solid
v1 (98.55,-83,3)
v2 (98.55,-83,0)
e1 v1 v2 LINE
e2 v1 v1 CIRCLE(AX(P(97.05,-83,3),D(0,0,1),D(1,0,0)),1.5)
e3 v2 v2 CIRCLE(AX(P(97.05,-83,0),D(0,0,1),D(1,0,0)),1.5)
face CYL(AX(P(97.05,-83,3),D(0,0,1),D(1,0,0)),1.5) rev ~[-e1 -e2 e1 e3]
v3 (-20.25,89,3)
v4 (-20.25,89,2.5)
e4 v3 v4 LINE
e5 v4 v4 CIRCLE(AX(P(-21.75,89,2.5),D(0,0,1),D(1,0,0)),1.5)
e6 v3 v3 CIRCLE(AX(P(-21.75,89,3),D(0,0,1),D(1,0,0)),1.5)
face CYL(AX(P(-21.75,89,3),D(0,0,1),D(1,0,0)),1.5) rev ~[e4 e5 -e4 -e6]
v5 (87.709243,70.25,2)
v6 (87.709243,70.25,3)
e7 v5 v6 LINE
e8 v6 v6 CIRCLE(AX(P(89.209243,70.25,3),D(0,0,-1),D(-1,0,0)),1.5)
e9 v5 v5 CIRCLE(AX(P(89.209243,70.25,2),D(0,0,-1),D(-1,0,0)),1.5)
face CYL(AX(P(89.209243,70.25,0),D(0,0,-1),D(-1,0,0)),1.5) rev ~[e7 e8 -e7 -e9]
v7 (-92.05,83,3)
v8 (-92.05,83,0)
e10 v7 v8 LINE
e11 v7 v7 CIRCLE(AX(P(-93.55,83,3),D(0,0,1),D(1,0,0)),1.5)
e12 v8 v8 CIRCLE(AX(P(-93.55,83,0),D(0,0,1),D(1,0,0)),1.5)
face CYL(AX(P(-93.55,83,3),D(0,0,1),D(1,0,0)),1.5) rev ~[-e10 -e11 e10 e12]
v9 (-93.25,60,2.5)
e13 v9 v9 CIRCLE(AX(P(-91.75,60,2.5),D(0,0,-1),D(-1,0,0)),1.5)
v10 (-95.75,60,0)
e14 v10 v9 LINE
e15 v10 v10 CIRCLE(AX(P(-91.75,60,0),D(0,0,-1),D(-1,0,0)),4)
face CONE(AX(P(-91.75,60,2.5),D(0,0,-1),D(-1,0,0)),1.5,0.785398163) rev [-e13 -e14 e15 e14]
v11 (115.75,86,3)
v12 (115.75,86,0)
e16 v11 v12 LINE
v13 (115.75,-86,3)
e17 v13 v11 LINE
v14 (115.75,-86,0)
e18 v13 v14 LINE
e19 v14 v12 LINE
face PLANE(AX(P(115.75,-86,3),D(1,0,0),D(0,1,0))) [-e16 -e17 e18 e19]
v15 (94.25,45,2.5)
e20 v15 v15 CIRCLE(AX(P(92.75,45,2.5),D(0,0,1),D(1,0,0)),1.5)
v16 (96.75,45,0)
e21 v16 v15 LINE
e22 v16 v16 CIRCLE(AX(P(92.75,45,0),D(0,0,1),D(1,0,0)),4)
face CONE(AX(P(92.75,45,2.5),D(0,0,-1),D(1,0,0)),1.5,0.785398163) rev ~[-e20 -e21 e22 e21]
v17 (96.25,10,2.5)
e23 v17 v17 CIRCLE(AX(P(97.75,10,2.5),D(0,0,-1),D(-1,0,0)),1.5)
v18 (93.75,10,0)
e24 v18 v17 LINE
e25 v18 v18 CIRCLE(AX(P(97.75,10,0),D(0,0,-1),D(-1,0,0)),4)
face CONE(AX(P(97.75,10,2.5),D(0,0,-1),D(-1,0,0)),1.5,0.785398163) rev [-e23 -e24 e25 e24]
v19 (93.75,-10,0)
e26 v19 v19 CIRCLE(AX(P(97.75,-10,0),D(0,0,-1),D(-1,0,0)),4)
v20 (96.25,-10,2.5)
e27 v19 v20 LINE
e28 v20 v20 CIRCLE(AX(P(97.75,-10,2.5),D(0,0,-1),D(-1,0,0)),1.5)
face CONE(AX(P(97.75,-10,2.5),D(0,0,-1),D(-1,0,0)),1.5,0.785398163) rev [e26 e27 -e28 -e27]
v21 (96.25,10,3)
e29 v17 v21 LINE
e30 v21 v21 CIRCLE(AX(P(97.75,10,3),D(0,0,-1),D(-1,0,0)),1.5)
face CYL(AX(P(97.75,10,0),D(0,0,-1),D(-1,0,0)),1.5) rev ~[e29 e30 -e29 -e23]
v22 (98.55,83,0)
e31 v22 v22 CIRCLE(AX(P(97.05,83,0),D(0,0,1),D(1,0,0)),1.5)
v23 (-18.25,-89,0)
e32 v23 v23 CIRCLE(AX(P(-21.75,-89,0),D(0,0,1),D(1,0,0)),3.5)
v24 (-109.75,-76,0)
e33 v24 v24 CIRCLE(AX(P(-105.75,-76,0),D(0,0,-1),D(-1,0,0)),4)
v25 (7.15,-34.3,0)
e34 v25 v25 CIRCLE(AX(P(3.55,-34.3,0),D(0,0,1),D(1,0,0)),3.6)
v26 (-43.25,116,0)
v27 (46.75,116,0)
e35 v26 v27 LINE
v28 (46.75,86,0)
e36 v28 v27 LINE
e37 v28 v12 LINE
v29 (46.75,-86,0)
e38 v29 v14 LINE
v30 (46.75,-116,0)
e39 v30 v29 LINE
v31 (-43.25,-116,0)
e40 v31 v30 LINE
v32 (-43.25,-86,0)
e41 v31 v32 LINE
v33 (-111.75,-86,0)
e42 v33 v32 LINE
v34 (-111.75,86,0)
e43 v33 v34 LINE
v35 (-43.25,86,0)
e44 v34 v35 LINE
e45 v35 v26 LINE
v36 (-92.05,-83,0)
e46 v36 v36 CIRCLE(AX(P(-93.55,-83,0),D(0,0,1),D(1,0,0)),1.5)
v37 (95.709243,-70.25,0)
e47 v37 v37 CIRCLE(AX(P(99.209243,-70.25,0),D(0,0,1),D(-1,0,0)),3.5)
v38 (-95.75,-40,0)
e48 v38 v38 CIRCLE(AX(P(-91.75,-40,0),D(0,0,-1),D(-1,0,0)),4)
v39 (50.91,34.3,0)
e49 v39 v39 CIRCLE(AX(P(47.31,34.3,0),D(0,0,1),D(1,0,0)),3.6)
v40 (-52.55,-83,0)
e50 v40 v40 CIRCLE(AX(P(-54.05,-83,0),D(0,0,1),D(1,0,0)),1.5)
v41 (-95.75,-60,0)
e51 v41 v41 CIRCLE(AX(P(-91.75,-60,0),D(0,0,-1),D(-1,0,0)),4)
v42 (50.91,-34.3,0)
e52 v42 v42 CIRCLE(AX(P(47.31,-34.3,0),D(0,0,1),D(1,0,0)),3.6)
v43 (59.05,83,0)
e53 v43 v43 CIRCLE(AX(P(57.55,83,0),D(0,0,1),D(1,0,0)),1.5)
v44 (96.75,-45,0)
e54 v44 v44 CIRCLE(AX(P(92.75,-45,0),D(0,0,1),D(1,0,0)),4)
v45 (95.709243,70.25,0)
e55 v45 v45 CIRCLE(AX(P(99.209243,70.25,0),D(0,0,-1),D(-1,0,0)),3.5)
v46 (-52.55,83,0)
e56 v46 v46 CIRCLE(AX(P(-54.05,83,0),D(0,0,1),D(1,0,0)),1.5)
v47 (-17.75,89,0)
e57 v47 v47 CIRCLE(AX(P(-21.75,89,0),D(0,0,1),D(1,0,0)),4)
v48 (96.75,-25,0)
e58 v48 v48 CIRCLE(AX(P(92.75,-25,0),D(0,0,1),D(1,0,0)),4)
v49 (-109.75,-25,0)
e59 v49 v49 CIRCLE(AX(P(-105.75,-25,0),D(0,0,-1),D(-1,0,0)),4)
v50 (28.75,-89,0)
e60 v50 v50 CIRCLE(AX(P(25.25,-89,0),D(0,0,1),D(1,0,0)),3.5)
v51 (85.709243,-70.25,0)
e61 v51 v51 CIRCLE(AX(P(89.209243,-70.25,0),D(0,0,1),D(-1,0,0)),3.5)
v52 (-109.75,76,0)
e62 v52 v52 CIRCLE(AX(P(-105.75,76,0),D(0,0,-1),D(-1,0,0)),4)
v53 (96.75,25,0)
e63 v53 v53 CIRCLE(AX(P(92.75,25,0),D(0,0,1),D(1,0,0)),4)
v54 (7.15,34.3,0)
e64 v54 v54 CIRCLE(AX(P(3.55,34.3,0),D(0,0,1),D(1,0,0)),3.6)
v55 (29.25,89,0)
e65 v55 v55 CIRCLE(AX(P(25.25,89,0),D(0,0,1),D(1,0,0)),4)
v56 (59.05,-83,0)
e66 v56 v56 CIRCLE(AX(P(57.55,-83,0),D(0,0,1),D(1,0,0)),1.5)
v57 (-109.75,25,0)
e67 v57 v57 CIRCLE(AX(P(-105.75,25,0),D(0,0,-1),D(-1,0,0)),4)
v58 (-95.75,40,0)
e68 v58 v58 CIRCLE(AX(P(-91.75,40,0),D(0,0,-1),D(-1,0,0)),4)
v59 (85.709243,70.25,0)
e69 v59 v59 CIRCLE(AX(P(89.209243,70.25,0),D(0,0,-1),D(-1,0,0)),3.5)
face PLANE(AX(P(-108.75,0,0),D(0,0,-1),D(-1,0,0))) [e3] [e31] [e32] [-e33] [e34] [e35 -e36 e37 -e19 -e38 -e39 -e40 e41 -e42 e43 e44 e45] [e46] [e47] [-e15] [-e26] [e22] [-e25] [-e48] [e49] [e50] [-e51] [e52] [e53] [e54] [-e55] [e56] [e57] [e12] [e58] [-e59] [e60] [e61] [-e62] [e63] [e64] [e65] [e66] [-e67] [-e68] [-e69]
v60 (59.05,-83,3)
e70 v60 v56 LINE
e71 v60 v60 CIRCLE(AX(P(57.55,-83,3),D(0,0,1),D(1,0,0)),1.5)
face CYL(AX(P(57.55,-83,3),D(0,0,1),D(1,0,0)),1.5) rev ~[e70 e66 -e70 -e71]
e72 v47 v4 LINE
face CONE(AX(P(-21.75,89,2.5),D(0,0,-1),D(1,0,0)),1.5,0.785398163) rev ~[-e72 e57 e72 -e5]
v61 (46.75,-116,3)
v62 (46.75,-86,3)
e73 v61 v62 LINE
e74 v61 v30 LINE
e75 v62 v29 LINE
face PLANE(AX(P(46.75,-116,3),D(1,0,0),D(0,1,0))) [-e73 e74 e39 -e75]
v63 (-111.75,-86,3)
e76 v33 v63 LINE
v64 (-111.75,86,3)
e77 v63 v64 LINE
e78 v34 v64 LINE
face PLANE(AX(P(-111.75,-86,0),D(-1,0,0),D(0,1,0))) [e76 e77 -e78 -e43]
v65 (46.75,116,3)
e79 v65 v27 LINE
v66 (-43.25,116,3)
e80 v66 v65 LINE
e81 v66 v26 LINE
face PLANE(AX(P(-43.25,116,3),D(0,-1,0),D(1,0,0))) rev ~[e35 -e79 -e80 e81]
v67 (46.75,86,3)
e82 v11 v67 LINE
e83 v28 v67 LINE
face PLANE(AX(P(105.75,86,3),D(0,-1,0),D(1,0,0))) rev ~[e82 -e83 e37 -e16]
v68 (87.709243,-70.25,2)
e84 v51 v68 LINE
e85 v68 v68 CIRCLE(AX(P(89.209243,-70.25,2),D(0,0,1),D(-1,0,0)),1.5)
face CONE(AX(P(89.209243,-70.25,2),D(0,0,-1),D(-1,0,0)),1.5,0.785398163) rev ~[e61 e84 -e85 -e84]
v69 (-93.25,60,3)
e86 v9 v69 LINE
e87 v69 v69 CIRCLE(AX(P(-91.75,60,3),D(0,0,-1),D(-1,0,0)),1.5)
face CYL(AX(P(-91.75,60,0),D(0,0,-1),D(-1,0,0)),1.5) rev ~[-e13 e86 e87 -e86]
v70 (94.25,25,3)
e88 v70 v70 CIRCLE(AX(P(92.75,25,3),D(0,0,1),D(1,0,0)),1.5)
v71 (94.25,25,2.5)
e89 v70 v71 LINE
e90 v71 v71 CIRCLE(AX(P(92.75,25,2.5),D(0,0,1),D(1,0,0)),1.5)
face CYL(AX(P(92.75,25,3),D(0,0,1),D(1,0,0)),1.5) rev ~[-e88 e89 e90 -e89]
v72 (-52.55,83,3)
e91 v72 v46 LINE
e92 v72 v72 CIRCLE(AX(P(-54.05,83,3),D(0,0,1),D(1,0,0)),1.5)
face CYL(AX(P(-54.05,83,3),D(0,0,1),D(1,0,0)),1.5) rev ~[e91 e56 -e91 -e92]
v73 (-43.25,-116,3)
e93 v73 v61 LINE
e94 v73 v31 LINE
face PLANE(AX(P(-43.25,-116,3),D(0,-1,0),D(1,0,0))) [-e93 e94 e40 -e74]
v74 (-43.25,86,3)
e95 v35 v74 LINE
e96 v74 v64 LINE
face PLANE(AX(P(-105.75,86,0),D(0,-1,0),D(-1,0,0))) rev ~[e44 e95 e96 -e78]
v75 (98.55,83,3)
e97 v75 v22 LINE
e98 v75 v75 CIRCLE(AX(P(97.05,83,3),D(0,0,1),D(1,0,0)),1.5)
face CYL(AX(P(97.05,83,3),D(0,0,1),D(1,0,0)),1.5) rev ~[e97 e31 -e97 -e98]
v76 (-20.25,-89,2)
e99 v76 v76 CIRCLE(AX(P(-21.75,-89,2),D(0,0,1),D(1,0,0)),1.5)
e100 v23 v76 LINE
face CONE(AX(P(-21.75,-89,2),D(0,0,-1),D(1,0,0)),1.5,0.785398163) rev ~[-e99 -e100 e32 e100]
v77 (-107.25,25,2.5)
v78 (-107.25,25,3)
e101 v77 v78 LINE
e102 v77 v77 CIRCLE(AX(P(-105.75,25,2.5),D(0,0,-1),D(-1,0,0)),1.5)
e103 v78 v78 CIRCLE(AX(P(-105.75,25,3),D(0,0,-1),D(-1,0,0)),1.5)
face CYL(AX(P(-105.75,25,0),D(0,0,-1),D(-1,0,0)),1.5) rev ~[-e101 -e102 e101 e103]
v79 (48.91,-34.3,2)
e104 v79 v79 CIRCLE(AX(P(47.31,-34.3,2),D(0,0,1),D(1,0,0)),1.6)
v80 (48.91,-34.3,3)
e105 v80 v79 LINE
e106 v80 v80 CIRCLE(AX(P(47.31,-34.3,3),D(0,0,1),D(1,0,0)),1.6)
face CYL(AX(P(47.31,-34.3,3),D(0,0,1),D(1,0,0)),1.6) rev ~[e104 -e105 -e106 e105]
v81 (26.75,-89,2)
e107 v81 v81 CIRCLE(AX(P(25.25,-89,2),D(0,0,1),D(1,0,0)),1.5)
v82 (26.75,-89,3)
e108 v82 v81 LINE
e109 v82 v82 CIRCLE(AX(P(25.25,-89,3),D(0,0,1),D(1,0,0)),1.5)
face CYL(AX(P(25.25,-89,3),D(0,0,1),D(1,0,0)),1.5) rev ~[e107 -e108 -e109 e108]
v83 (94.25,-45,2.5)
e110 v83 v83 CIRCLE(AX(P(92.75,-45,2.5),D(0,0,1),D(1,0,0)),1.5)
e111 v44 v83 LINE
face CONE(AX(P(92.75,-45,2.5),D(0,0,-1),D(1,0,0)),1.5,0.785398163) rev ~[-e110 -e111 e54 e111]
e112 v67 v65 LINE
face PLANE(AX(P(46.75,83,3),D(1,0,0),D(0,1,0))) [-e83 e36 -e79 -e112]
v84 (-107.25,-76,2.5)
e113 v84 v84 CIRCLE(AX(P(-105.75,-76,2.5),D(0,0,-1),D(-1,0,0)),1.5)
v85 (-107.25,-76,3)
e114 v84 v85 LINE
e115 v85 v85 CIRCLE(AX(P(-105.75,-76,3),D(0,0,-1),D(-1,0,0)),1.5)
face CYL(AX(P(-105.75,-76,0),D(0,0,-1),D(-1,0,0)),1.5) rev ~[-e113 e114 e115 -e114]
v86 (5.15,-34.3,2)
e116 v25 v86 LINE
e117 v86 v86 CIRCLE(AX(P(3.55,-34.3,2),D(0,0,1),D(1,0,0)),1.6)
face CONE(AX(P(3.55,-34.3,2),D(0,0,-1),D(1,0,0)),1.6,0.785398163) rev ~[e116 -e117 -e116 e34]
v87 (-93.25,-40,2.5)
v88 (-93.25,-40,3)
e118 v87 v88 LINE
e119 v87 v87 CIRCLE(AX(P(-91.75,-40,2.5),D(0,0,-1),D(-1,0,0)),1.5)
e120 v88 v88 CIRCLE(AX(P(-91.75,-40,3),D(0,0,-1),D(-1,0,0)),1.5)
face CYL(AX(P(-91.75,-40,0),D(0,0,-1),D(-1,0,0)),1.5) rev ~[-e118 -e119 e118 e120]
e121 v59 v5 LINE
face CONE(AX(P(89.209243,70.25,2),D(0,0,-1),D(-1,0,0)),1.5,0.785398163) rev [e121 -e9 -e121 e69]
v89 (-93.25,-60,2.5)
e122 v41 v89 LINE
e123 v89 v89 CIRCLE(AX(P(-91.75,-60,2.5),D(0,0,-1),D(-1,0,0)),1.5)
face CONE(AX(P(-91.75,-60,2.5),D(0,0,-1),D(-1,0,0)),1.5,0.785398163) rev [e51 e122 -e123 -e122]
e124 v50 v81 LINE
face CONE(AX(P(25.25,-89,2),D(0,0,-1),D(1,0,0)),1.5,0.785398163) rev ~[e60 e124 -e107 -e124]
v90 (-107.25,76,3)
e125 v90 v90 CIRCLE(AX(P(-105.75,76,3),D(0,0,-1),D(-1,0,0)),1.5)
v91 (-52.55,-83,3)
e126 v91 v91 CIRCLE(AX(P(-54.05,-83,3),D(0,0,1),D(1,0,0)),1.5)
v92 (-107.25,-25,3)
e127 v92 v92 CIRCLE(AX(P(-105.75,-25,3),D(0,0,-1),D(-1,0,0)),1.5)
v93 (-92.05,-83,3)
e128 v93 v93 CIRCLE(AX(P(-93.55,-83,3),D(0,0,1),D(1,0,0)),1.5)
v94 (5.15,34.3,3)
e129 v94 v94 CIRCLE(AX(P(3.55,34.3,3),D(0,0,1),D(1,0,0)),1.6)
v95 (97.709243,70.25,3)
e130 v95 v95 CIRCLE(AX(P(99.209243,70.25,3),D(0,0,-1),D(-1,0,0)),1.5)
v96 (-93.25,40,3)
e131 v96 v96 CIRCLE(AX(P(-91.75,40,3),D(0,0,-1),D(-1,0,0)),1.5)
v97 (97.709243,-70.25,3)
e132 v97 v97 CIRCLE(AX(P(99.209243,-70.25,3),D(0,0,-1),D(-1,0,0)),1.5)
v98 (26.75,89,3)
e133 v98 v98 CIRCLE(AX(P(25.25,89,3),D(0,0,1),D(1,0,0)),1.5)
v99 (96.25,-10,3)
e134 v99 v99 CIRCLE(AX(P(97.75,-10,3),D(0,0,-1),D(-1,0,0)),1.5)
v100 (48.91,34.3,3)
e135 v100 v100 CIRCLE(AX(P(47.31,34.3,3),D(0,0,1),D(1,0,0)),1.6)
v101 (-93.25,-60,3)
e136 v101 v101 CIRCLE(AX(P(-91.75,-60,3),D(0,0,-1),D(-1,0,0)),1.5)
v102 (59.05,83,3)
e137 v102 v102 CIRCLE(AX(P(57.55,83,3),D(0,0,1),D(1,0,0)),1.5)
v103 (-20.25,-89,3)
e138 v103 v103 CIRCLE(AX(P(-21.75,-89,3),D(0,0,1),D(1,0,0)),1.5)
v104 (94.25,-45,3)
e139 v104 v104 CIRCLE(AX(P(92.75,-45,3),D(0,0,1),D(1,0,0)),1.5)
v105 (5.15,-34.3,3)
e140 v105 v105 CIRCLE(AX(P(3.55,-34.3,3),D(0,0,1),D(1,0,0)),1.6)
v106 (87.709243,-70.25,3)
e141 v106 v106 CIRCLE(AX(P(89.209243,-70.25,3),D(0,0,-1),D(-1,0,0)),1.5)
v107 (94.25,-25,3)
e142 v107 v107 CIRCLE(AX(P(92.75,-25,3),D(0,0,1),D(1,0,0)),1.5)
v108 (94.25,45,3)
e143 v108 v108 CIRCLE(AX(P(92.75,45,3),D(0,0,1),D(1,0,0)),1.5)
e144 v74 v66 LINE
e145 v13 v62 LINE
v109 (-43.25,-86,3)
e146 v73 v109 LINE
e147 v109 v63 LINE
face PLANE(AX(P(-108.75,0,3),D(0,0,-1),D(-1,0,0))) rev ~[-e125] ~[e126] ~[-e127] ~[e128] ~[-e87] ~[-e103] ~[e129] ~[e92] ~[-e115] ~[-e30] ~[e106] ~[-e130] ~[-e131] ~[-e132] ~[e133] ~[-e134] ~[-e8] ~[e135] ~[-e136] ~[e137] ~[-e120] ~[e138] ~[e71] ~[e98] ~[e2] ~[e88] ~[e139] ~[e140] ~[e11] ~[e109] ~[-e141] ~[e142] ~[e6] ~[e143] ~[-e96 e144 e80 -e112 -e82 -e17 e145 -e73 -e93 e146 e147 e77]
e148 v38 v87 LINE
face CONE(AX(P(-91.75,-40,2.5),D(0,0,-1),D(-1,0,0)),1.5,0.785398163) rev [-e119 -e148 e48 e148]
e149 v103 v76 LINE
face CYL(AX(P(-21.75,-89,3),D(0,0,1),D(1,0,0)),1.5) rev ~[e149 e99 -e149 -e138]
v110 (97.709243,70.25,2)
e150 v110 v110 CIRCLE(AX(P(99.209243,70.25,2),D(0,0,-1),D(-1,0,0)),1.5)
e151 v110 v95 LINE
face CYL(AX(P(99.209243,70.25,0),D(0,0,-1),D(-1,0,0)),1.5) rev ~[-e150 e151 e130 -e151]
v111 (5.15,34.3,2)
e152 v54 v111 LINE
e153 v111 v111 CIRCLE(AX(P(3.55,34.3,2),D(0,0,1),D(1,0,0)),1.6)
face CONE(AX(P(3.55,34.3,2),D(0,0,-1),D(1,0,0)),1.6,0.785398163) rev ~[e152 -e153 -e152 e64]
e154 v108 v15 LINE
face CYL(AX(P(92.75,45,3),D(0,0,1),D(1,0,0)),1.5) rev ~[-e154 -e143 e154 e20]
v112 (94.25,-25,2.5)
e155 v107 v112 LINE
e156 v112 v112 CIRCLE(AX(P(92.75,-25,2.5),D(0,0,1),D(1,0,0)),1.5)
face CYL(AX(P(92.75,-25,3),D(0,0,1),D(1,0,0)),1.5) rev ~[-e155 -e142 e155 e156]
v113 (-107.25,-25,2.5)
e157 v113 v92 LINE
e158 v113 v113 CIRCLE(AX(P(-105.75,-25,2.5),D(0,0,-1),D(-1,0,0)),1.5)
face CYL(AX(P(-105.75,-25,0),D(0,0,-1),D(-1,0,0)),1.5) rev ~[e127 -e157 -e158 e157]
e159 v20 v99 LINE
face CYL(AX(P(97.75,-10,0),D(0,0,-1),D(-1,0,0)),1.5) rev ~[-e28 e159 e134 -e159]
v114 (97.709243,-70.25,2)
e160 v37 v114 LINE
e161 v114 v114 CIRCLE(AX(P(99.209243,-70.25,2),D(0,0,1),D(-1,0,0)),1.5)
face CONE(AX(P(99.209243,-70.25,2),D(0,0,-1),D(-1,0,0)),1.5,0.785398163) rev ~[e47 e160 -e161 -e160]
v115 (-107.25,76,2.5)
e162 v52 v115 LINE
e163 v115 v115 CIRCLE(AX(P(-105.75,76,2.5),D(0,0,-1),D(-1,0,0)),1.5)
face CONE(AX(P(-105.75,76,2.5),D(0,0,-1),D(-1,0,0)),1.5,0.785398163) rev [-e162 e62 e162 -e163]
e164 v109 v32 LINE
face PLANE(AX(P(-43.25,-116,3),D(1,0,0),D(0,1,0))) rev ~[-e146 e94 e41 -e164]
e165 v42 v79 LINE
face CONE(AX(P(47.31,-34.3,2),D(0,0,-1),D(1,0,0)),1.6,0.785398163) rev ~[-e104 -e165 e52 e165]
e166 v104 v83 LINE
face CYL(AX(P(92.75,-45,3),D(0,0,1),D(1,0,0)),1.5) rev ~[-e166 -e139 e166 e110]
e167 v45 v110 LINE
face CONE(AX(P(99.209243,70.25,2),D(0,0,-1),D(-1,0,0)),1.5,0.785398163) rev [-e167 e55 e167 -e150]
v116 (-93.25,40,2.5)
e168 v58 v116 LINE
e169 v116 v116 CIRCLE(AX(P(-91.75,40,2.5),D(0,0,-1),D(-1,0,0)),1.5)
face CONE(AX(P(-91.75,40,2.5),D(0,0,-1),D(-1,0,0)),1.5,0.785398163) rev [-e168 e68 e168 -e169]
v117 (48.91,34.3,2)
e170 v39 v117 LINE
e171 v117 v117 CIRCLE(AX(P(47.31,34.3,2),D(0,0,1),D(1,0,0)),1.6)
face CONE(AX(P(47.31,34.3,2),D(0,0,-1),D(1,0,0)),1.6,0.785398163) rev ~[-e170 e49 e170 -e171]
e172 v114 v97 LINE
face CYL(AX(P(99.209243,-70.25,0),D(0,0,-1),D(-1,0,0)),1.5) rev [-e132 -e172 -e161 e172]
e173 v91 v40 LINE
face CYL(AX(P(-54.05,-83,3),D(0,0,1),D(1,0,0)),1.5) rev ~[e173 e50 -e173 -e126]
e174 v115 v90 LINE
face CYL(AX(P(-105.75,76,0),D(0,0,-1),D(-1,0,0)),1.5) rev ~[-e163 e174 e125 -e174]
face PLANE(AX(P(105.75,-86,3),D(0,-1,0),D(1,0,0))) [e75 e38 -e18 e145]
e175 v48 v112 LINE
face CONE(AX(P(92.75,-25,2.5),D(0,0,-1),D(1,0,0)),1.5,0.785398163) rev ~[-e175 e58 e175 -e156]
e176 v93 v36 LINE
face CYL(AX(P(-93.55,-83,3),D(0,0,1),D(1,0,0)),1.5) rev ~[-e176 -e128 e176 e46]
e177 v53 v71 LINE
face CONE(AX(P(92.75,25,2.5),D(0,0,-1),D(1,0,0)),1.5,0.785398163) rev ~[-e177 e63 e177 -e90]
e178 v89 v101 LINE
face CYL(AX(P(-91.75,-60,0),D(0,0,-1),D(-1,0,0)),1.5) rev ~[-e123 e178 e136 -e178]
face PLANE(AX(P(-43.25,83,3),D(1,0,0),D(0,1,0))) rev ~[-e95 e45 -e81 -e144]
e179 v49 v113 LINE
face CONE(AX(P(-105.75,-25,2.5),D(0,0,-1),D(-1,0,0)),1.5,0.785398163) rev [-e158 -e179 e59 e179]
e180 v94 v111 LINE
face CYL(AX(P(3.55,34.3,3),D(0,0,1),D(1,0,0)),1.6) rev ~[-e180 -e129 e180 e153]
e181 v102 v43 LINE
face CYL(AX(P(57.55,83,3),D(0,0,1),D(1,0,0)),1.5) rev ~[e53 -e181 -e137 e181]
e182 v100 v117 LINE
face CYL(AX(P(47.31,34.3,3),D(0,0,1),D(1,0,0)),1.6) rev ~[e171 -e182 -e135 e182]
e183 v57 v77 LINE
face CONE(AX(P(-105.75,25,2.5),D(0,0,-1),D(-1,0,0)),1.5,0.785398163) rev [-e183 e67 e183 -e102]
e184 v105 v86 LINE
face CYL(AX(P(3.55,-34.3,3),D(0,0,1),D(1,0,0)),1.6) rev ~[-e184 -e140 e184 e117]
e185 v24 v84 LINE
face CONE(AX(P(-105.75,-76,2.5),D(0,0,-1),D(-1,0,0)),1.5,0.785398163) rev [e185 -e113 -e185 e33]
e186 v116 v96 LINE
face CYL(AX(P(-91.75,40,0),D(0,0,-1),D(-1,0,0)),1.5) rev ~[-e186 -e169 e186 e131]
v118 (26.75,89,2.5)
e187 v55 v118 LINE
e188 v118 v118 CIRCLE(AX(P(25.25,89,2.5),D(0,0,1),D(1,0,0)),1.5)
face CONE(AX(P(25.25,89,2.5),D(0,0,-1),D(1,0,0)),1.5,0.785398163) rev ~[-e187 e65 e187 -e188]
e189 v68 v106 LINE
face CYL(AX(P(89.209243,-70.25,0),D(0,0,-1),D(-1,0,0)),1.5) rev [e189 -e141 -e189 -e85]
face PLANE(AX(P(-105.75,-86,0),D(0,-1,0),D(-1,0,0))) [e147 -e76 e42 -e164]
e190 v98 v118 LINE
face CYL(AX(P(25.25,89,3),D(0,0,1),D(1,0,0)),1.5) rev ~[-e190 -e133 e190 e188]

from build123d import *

# Parameters (mm, degrees)
EXTRUDE_1_DEPTH     = 3
SKETCH_2_R          = 1.5
CUT_EXTRUDE_1_DEPTH = 10
SKETCH_3_W          = 10
SKETCH_3_H          = 172
SKETCH_3_W_2        = 90
SKETCH_3_H_2        = 33
EXTRUDE_2_DEPTH     = 3
SKETCH_4_R          = 1.6
CUT_EXTRUDE_2_DEPTH = 10
SKETCH_5_R          = 1.5
CUT_EXTRUDE_3_DEPTH = 10
SKETCH_6_R          = 1.5
CUT_EXTRUDE_4_DEPTH = 10
SKETCH_7_R          = 1.5
CUT_EXTRUDE_5_DEPTH = 74
SKETCH_8_R          = 1.5
CUT_EXTRUDE_6_DEPTH = 10
SKETCH_9_W          = 6
SKETCH_9_H          = 172
EXTRUDE_3_DEPTH     = 3
SKETCH_10_R         = 1.5
CUT_EXTRUDE_7_DEPTH = 15
CHAMFER_2_SIZE      = 2.5
CHAMFER_3_SIZE      = 2.5
CHAMFER_5_SIZE      = 2.5
SKETCH_11_R         = 1.5
CUT_EXTRUDE_8_DEPTH = 10
CHAMFER_6_SIZE      = 2
CHAMFER_7_SIZE      = 2
CHAMFER_8_SIZE      = 2


with BuildPart() as part:
    # 草图1 → 凸台-拉伸1 (new body)
    with BuildSketch(Plane.XY):
        Polygon((-105.75, 86), (-105.75, 70), (-105.75, -86), (105.75, -86), (105.75, 86), align=None)
    extrude(amount=EXTRUDE_1_DEPTH)

    # 草图2 → 切除-拉伸1 (cut)
    with BuildSketch(Plane.XY.offset(3)):
        with Locations((97.05, 83)):
            Circle(SKETCH_2_R)
        with Locations((-93.55, 83)):
            Circle(SKETCH_2_R)
        with Locations((57.55, 83)):
            Circle(SKETCH_2_R)
        with Locations((-54.05, 83)):
            Circle(SKETCH_2_R)
        with Locations((57.55, -83)):
            Circle(SKETCH_2_R)
        with Locations((97.05, -83)):
            Circle(SKETCH_2_R)
        with Locations((-54.05, -83)):
            Circle(SKETCH_2_R)
        with Locations((-93.55, -83)):
            Circle(SKETCH_2_R)
    extrude(amount=-CUT_EXTRUDE_1_DEPTH, mode=Mode.SUBTRACT)

    # 草图3 → 凸台-拉伸2 (add)
    with BuildSketch(Plane.XY.offset(3)):
        with Locations((110.75, 0)):
            Rectangle(SKETCH_3_W, SKETCH_3_H)
        with Locations((1.75, 99.5)):
            Rectangle(SKETCH_3_W_2, SKETCH_3_H_2)
        with Locations((1.75, -99.5)):
            Rectangle(SKETCH_3_W_2, SKETCH_3_H_2)
    extrude(amount=-EXTRUDE_2_DEPTH)

    # 草图4 → 切除-拉伸2 (cut)
    with BuildSketch(Plane.XY.offset(3)):
        with Locations((3.55, 34.3)):
            Circle(SKETCH_4_R)
        with Locations((47.31, 34.3)):
            Circle(SKETCH_4_R)
        with Locations((47.31, -34.3)):
            Circle(SKETCH_4_R)
        with Locations((3.55, -34.3)):
            Circle(SKETCH_4_R)
    extrude(amount=-CUT_EXTRUDE_2_DEPTH, mode=Mode.SUBTRACT)

    # 草图5 → 切除-拉伸3 (cut)
    with BuildSketch(Plane.XY.offset(3)):
        with Locations((92.75, 45)):
            Circle(SKETCH_5_R)
        with Locations((92.75, 25)):
            Circle(SKETCH_5_R)
        with Locations((92.75, -25)):
            Circle(SKETCH_5_R)
        with Locations((92.75, -45)):
            Circle(SKETCH_5_R)
    extrude(amount=-CUT_EXTRUDE_3_DEPTH, mode=Mode.SUBTRACT)

    # 草图6 → 切除-拉伸4 (cut)
    with BuildSketch(Plane.XY.offset(3)):
        with Locations((25.25, -89)):
            Circle(SKETCH_6_R)
        with Locations((-21.75, 89)):
            Circle(SKETCH_6_R)
        with Locations((25.25, 89)):
            Circle(SKETCH_6_R)
        with Locations((-21.75, -89)):
            Circle(SKETCH_6_R)
    extrude(amount=-CUT_EXTRUDE_4_DEPTH, mode=Mode.SUBTRACT)

    # 草图7 → 切除-拉伸5 (cut)
    with BuildSketch(Plane(origin=(0, 0, 0), x_dir=(-1, 0, 0), z_dir=(0, 0, -1))):
        with Locations((91.75, -60)):
            Circle(SKETCH_7_R)
        with Locations((91.75, -40)):
            Circle(SKETCH_7_R)
        with Locations((91.75, 60)):
            Circle(SKETCH_7_R)
        with Locations((91.75, 40)):
            Circle(SKETCH_7_R)
    extrude(amount=-CUT_EXTRUDE_5_DEPTH, mode=Mode.SUBTRACT)

    # 草图8 → 切除-拉伸6 (cut)
    with BuildSketch(Plane(origin=(0, 0, 0), x_dir=(-1, 0, 0), z_dir=(0, 0, -1))):
        with Locations((-97.75, 10)):
            Circle(SKETCH_8_R)
        with Locations((-97.75, -10)):
            Circle(SKETCH_8_R)
    extrude(amount=-CUT_EXTRUDE_6_DEPTH, mode=Mode.SUBTRACT)

    # 草图9 → 凸台-拉伸3 (add)
    with BuildSketch(Plane(origin=(0, 0, 0), x_dir=(-1, 0, 0), z_dir=(0, 0, -1))):
        with Locations((108.75, 0)):
            Rectangle(SKETCH_9_W, SKETCH_9_H)
    extrude(amount=-EXTRUDE_3_DEPTH)

    # 草图10 → 切除-拉伸7 (cut)
    with BuildSketch(Plane(origin=(0, 0, 0), x_dir=(-1, 0, 0), z_dir=(0, 0, -1))):
        with Locations((105.75, 76)):
            Circle(SKETCH_10_R)
        with Locations((105.75, 25)):
            Circle(SKETCH_10_R)
        with Locations((105.75, -25)):
            Circle(SKETCH_10_R)
        with Locations((105.75, -76)):
            Circle(SKETCH_10_R)
    extrude(amount=-CUT_EXTRUDE_7_DEPTH, mode=Mode.SUBTRACT)

    # 倒角2
    chamfer_2_edges = [part.edges().sort_by_distance(p)[0] for p in [
        (23.75, 89, 0),
    ]]
    chamfer(chamfer_2_edges, length=CHAMFER_2_SIZE)

    # 倒角3
    chamfer_3_edges = [part.edges().sort_by_distance(p)[0] for p in [
        (-23.25, 89, 0),
        (-90.25, -60, 0),
        (-90.25, -40, 0),
        (-90.25, 60, 0),
        (-90.25, 40, 0),
        (-104.25, 76, 0),
        (-104.25, 25, 0),
        (-104.25, -25, 0),
        (-104.25, -76, 0),
    ]]
    chamfer(chamfer_3_edges, length=CHAMFER_3_SIZE)

    # 倒角5
    chamfer_5_edges = [part.edges().sort_by_distance(p)[0] for p in [
        (91.25, 45, 0),
        (91.25, 25, 0),
        (91.25, -25, 0),
        (91.25, -45, 0),
        (99.25, 10, 0),
        (99.25, -10, 0),
    ]]
    chamfer(chamfer_5_edges, length=CHAMFER_5_SIZE)

    # 草图11 → 切除-拉伸8 (cut)
    with BuildSketch(Plane(origin=(0, 0, 0), x_dir=(-1, 0, 0), z_dir=(0, 0, -1))):
        with Locations((-89.209242617, 70.25)):
            Circle(SKETCH_11_R)
        with Locations((-99.209242617, 70.25)):
            Circle(SKETCH_11_R)
    cut_extrude_8 = extrude(amount=-CUT_EXTRUDE_8_DEPTH, mode=Mode.SUBTRACT)

    # 镜向2: 切除-拉伸8 across plane
    add(cut_extrude_8.mirror(Plane.ZX), mode=Mode.SUBTRACT)

    # 倒角6
    chamfer_6_edges = [part.edges().sort_by_distance(p)[0] for p in [
        (45.71, 34.3, 0),
    ]]
    chamfer(chamfer_6_edges, length=CHAMFER_6_SIZE)

    # 倒角7
    chamfer_7_edges = [part.edges().sort_by_distance(p)[0] for p in [
        (1.95, 34.3, 0),
        (45.71, -34.3, 0),
        (1.95, -34.3, 0),
        (90.709242617, 70.25, 0),
        (100.709242617, 70.25, 0),
        (90.709242617, -70.25, 0),
        (100.709242617, -70.25, 0),
    ]]
    chamfer(chamfer_7_edges, length=CHAMFER_7_SIZE)

    # 倒角8
    chamfer_8_edges = [part.edges().sort_by_distance(p)[0] for p in [
        (23.75, -89, 0),
        (-23.25, -89, 0),
    ]]
    chamfer(chamfer_8_edges, length=CHAMFER_8_SIZE)

    # 镜向1: 切除-拉伸8 across plane
    add(cut_extrude_8.mirror(Plane.ZX), mode=Mode.SUBTRACT)


solid = part.part
